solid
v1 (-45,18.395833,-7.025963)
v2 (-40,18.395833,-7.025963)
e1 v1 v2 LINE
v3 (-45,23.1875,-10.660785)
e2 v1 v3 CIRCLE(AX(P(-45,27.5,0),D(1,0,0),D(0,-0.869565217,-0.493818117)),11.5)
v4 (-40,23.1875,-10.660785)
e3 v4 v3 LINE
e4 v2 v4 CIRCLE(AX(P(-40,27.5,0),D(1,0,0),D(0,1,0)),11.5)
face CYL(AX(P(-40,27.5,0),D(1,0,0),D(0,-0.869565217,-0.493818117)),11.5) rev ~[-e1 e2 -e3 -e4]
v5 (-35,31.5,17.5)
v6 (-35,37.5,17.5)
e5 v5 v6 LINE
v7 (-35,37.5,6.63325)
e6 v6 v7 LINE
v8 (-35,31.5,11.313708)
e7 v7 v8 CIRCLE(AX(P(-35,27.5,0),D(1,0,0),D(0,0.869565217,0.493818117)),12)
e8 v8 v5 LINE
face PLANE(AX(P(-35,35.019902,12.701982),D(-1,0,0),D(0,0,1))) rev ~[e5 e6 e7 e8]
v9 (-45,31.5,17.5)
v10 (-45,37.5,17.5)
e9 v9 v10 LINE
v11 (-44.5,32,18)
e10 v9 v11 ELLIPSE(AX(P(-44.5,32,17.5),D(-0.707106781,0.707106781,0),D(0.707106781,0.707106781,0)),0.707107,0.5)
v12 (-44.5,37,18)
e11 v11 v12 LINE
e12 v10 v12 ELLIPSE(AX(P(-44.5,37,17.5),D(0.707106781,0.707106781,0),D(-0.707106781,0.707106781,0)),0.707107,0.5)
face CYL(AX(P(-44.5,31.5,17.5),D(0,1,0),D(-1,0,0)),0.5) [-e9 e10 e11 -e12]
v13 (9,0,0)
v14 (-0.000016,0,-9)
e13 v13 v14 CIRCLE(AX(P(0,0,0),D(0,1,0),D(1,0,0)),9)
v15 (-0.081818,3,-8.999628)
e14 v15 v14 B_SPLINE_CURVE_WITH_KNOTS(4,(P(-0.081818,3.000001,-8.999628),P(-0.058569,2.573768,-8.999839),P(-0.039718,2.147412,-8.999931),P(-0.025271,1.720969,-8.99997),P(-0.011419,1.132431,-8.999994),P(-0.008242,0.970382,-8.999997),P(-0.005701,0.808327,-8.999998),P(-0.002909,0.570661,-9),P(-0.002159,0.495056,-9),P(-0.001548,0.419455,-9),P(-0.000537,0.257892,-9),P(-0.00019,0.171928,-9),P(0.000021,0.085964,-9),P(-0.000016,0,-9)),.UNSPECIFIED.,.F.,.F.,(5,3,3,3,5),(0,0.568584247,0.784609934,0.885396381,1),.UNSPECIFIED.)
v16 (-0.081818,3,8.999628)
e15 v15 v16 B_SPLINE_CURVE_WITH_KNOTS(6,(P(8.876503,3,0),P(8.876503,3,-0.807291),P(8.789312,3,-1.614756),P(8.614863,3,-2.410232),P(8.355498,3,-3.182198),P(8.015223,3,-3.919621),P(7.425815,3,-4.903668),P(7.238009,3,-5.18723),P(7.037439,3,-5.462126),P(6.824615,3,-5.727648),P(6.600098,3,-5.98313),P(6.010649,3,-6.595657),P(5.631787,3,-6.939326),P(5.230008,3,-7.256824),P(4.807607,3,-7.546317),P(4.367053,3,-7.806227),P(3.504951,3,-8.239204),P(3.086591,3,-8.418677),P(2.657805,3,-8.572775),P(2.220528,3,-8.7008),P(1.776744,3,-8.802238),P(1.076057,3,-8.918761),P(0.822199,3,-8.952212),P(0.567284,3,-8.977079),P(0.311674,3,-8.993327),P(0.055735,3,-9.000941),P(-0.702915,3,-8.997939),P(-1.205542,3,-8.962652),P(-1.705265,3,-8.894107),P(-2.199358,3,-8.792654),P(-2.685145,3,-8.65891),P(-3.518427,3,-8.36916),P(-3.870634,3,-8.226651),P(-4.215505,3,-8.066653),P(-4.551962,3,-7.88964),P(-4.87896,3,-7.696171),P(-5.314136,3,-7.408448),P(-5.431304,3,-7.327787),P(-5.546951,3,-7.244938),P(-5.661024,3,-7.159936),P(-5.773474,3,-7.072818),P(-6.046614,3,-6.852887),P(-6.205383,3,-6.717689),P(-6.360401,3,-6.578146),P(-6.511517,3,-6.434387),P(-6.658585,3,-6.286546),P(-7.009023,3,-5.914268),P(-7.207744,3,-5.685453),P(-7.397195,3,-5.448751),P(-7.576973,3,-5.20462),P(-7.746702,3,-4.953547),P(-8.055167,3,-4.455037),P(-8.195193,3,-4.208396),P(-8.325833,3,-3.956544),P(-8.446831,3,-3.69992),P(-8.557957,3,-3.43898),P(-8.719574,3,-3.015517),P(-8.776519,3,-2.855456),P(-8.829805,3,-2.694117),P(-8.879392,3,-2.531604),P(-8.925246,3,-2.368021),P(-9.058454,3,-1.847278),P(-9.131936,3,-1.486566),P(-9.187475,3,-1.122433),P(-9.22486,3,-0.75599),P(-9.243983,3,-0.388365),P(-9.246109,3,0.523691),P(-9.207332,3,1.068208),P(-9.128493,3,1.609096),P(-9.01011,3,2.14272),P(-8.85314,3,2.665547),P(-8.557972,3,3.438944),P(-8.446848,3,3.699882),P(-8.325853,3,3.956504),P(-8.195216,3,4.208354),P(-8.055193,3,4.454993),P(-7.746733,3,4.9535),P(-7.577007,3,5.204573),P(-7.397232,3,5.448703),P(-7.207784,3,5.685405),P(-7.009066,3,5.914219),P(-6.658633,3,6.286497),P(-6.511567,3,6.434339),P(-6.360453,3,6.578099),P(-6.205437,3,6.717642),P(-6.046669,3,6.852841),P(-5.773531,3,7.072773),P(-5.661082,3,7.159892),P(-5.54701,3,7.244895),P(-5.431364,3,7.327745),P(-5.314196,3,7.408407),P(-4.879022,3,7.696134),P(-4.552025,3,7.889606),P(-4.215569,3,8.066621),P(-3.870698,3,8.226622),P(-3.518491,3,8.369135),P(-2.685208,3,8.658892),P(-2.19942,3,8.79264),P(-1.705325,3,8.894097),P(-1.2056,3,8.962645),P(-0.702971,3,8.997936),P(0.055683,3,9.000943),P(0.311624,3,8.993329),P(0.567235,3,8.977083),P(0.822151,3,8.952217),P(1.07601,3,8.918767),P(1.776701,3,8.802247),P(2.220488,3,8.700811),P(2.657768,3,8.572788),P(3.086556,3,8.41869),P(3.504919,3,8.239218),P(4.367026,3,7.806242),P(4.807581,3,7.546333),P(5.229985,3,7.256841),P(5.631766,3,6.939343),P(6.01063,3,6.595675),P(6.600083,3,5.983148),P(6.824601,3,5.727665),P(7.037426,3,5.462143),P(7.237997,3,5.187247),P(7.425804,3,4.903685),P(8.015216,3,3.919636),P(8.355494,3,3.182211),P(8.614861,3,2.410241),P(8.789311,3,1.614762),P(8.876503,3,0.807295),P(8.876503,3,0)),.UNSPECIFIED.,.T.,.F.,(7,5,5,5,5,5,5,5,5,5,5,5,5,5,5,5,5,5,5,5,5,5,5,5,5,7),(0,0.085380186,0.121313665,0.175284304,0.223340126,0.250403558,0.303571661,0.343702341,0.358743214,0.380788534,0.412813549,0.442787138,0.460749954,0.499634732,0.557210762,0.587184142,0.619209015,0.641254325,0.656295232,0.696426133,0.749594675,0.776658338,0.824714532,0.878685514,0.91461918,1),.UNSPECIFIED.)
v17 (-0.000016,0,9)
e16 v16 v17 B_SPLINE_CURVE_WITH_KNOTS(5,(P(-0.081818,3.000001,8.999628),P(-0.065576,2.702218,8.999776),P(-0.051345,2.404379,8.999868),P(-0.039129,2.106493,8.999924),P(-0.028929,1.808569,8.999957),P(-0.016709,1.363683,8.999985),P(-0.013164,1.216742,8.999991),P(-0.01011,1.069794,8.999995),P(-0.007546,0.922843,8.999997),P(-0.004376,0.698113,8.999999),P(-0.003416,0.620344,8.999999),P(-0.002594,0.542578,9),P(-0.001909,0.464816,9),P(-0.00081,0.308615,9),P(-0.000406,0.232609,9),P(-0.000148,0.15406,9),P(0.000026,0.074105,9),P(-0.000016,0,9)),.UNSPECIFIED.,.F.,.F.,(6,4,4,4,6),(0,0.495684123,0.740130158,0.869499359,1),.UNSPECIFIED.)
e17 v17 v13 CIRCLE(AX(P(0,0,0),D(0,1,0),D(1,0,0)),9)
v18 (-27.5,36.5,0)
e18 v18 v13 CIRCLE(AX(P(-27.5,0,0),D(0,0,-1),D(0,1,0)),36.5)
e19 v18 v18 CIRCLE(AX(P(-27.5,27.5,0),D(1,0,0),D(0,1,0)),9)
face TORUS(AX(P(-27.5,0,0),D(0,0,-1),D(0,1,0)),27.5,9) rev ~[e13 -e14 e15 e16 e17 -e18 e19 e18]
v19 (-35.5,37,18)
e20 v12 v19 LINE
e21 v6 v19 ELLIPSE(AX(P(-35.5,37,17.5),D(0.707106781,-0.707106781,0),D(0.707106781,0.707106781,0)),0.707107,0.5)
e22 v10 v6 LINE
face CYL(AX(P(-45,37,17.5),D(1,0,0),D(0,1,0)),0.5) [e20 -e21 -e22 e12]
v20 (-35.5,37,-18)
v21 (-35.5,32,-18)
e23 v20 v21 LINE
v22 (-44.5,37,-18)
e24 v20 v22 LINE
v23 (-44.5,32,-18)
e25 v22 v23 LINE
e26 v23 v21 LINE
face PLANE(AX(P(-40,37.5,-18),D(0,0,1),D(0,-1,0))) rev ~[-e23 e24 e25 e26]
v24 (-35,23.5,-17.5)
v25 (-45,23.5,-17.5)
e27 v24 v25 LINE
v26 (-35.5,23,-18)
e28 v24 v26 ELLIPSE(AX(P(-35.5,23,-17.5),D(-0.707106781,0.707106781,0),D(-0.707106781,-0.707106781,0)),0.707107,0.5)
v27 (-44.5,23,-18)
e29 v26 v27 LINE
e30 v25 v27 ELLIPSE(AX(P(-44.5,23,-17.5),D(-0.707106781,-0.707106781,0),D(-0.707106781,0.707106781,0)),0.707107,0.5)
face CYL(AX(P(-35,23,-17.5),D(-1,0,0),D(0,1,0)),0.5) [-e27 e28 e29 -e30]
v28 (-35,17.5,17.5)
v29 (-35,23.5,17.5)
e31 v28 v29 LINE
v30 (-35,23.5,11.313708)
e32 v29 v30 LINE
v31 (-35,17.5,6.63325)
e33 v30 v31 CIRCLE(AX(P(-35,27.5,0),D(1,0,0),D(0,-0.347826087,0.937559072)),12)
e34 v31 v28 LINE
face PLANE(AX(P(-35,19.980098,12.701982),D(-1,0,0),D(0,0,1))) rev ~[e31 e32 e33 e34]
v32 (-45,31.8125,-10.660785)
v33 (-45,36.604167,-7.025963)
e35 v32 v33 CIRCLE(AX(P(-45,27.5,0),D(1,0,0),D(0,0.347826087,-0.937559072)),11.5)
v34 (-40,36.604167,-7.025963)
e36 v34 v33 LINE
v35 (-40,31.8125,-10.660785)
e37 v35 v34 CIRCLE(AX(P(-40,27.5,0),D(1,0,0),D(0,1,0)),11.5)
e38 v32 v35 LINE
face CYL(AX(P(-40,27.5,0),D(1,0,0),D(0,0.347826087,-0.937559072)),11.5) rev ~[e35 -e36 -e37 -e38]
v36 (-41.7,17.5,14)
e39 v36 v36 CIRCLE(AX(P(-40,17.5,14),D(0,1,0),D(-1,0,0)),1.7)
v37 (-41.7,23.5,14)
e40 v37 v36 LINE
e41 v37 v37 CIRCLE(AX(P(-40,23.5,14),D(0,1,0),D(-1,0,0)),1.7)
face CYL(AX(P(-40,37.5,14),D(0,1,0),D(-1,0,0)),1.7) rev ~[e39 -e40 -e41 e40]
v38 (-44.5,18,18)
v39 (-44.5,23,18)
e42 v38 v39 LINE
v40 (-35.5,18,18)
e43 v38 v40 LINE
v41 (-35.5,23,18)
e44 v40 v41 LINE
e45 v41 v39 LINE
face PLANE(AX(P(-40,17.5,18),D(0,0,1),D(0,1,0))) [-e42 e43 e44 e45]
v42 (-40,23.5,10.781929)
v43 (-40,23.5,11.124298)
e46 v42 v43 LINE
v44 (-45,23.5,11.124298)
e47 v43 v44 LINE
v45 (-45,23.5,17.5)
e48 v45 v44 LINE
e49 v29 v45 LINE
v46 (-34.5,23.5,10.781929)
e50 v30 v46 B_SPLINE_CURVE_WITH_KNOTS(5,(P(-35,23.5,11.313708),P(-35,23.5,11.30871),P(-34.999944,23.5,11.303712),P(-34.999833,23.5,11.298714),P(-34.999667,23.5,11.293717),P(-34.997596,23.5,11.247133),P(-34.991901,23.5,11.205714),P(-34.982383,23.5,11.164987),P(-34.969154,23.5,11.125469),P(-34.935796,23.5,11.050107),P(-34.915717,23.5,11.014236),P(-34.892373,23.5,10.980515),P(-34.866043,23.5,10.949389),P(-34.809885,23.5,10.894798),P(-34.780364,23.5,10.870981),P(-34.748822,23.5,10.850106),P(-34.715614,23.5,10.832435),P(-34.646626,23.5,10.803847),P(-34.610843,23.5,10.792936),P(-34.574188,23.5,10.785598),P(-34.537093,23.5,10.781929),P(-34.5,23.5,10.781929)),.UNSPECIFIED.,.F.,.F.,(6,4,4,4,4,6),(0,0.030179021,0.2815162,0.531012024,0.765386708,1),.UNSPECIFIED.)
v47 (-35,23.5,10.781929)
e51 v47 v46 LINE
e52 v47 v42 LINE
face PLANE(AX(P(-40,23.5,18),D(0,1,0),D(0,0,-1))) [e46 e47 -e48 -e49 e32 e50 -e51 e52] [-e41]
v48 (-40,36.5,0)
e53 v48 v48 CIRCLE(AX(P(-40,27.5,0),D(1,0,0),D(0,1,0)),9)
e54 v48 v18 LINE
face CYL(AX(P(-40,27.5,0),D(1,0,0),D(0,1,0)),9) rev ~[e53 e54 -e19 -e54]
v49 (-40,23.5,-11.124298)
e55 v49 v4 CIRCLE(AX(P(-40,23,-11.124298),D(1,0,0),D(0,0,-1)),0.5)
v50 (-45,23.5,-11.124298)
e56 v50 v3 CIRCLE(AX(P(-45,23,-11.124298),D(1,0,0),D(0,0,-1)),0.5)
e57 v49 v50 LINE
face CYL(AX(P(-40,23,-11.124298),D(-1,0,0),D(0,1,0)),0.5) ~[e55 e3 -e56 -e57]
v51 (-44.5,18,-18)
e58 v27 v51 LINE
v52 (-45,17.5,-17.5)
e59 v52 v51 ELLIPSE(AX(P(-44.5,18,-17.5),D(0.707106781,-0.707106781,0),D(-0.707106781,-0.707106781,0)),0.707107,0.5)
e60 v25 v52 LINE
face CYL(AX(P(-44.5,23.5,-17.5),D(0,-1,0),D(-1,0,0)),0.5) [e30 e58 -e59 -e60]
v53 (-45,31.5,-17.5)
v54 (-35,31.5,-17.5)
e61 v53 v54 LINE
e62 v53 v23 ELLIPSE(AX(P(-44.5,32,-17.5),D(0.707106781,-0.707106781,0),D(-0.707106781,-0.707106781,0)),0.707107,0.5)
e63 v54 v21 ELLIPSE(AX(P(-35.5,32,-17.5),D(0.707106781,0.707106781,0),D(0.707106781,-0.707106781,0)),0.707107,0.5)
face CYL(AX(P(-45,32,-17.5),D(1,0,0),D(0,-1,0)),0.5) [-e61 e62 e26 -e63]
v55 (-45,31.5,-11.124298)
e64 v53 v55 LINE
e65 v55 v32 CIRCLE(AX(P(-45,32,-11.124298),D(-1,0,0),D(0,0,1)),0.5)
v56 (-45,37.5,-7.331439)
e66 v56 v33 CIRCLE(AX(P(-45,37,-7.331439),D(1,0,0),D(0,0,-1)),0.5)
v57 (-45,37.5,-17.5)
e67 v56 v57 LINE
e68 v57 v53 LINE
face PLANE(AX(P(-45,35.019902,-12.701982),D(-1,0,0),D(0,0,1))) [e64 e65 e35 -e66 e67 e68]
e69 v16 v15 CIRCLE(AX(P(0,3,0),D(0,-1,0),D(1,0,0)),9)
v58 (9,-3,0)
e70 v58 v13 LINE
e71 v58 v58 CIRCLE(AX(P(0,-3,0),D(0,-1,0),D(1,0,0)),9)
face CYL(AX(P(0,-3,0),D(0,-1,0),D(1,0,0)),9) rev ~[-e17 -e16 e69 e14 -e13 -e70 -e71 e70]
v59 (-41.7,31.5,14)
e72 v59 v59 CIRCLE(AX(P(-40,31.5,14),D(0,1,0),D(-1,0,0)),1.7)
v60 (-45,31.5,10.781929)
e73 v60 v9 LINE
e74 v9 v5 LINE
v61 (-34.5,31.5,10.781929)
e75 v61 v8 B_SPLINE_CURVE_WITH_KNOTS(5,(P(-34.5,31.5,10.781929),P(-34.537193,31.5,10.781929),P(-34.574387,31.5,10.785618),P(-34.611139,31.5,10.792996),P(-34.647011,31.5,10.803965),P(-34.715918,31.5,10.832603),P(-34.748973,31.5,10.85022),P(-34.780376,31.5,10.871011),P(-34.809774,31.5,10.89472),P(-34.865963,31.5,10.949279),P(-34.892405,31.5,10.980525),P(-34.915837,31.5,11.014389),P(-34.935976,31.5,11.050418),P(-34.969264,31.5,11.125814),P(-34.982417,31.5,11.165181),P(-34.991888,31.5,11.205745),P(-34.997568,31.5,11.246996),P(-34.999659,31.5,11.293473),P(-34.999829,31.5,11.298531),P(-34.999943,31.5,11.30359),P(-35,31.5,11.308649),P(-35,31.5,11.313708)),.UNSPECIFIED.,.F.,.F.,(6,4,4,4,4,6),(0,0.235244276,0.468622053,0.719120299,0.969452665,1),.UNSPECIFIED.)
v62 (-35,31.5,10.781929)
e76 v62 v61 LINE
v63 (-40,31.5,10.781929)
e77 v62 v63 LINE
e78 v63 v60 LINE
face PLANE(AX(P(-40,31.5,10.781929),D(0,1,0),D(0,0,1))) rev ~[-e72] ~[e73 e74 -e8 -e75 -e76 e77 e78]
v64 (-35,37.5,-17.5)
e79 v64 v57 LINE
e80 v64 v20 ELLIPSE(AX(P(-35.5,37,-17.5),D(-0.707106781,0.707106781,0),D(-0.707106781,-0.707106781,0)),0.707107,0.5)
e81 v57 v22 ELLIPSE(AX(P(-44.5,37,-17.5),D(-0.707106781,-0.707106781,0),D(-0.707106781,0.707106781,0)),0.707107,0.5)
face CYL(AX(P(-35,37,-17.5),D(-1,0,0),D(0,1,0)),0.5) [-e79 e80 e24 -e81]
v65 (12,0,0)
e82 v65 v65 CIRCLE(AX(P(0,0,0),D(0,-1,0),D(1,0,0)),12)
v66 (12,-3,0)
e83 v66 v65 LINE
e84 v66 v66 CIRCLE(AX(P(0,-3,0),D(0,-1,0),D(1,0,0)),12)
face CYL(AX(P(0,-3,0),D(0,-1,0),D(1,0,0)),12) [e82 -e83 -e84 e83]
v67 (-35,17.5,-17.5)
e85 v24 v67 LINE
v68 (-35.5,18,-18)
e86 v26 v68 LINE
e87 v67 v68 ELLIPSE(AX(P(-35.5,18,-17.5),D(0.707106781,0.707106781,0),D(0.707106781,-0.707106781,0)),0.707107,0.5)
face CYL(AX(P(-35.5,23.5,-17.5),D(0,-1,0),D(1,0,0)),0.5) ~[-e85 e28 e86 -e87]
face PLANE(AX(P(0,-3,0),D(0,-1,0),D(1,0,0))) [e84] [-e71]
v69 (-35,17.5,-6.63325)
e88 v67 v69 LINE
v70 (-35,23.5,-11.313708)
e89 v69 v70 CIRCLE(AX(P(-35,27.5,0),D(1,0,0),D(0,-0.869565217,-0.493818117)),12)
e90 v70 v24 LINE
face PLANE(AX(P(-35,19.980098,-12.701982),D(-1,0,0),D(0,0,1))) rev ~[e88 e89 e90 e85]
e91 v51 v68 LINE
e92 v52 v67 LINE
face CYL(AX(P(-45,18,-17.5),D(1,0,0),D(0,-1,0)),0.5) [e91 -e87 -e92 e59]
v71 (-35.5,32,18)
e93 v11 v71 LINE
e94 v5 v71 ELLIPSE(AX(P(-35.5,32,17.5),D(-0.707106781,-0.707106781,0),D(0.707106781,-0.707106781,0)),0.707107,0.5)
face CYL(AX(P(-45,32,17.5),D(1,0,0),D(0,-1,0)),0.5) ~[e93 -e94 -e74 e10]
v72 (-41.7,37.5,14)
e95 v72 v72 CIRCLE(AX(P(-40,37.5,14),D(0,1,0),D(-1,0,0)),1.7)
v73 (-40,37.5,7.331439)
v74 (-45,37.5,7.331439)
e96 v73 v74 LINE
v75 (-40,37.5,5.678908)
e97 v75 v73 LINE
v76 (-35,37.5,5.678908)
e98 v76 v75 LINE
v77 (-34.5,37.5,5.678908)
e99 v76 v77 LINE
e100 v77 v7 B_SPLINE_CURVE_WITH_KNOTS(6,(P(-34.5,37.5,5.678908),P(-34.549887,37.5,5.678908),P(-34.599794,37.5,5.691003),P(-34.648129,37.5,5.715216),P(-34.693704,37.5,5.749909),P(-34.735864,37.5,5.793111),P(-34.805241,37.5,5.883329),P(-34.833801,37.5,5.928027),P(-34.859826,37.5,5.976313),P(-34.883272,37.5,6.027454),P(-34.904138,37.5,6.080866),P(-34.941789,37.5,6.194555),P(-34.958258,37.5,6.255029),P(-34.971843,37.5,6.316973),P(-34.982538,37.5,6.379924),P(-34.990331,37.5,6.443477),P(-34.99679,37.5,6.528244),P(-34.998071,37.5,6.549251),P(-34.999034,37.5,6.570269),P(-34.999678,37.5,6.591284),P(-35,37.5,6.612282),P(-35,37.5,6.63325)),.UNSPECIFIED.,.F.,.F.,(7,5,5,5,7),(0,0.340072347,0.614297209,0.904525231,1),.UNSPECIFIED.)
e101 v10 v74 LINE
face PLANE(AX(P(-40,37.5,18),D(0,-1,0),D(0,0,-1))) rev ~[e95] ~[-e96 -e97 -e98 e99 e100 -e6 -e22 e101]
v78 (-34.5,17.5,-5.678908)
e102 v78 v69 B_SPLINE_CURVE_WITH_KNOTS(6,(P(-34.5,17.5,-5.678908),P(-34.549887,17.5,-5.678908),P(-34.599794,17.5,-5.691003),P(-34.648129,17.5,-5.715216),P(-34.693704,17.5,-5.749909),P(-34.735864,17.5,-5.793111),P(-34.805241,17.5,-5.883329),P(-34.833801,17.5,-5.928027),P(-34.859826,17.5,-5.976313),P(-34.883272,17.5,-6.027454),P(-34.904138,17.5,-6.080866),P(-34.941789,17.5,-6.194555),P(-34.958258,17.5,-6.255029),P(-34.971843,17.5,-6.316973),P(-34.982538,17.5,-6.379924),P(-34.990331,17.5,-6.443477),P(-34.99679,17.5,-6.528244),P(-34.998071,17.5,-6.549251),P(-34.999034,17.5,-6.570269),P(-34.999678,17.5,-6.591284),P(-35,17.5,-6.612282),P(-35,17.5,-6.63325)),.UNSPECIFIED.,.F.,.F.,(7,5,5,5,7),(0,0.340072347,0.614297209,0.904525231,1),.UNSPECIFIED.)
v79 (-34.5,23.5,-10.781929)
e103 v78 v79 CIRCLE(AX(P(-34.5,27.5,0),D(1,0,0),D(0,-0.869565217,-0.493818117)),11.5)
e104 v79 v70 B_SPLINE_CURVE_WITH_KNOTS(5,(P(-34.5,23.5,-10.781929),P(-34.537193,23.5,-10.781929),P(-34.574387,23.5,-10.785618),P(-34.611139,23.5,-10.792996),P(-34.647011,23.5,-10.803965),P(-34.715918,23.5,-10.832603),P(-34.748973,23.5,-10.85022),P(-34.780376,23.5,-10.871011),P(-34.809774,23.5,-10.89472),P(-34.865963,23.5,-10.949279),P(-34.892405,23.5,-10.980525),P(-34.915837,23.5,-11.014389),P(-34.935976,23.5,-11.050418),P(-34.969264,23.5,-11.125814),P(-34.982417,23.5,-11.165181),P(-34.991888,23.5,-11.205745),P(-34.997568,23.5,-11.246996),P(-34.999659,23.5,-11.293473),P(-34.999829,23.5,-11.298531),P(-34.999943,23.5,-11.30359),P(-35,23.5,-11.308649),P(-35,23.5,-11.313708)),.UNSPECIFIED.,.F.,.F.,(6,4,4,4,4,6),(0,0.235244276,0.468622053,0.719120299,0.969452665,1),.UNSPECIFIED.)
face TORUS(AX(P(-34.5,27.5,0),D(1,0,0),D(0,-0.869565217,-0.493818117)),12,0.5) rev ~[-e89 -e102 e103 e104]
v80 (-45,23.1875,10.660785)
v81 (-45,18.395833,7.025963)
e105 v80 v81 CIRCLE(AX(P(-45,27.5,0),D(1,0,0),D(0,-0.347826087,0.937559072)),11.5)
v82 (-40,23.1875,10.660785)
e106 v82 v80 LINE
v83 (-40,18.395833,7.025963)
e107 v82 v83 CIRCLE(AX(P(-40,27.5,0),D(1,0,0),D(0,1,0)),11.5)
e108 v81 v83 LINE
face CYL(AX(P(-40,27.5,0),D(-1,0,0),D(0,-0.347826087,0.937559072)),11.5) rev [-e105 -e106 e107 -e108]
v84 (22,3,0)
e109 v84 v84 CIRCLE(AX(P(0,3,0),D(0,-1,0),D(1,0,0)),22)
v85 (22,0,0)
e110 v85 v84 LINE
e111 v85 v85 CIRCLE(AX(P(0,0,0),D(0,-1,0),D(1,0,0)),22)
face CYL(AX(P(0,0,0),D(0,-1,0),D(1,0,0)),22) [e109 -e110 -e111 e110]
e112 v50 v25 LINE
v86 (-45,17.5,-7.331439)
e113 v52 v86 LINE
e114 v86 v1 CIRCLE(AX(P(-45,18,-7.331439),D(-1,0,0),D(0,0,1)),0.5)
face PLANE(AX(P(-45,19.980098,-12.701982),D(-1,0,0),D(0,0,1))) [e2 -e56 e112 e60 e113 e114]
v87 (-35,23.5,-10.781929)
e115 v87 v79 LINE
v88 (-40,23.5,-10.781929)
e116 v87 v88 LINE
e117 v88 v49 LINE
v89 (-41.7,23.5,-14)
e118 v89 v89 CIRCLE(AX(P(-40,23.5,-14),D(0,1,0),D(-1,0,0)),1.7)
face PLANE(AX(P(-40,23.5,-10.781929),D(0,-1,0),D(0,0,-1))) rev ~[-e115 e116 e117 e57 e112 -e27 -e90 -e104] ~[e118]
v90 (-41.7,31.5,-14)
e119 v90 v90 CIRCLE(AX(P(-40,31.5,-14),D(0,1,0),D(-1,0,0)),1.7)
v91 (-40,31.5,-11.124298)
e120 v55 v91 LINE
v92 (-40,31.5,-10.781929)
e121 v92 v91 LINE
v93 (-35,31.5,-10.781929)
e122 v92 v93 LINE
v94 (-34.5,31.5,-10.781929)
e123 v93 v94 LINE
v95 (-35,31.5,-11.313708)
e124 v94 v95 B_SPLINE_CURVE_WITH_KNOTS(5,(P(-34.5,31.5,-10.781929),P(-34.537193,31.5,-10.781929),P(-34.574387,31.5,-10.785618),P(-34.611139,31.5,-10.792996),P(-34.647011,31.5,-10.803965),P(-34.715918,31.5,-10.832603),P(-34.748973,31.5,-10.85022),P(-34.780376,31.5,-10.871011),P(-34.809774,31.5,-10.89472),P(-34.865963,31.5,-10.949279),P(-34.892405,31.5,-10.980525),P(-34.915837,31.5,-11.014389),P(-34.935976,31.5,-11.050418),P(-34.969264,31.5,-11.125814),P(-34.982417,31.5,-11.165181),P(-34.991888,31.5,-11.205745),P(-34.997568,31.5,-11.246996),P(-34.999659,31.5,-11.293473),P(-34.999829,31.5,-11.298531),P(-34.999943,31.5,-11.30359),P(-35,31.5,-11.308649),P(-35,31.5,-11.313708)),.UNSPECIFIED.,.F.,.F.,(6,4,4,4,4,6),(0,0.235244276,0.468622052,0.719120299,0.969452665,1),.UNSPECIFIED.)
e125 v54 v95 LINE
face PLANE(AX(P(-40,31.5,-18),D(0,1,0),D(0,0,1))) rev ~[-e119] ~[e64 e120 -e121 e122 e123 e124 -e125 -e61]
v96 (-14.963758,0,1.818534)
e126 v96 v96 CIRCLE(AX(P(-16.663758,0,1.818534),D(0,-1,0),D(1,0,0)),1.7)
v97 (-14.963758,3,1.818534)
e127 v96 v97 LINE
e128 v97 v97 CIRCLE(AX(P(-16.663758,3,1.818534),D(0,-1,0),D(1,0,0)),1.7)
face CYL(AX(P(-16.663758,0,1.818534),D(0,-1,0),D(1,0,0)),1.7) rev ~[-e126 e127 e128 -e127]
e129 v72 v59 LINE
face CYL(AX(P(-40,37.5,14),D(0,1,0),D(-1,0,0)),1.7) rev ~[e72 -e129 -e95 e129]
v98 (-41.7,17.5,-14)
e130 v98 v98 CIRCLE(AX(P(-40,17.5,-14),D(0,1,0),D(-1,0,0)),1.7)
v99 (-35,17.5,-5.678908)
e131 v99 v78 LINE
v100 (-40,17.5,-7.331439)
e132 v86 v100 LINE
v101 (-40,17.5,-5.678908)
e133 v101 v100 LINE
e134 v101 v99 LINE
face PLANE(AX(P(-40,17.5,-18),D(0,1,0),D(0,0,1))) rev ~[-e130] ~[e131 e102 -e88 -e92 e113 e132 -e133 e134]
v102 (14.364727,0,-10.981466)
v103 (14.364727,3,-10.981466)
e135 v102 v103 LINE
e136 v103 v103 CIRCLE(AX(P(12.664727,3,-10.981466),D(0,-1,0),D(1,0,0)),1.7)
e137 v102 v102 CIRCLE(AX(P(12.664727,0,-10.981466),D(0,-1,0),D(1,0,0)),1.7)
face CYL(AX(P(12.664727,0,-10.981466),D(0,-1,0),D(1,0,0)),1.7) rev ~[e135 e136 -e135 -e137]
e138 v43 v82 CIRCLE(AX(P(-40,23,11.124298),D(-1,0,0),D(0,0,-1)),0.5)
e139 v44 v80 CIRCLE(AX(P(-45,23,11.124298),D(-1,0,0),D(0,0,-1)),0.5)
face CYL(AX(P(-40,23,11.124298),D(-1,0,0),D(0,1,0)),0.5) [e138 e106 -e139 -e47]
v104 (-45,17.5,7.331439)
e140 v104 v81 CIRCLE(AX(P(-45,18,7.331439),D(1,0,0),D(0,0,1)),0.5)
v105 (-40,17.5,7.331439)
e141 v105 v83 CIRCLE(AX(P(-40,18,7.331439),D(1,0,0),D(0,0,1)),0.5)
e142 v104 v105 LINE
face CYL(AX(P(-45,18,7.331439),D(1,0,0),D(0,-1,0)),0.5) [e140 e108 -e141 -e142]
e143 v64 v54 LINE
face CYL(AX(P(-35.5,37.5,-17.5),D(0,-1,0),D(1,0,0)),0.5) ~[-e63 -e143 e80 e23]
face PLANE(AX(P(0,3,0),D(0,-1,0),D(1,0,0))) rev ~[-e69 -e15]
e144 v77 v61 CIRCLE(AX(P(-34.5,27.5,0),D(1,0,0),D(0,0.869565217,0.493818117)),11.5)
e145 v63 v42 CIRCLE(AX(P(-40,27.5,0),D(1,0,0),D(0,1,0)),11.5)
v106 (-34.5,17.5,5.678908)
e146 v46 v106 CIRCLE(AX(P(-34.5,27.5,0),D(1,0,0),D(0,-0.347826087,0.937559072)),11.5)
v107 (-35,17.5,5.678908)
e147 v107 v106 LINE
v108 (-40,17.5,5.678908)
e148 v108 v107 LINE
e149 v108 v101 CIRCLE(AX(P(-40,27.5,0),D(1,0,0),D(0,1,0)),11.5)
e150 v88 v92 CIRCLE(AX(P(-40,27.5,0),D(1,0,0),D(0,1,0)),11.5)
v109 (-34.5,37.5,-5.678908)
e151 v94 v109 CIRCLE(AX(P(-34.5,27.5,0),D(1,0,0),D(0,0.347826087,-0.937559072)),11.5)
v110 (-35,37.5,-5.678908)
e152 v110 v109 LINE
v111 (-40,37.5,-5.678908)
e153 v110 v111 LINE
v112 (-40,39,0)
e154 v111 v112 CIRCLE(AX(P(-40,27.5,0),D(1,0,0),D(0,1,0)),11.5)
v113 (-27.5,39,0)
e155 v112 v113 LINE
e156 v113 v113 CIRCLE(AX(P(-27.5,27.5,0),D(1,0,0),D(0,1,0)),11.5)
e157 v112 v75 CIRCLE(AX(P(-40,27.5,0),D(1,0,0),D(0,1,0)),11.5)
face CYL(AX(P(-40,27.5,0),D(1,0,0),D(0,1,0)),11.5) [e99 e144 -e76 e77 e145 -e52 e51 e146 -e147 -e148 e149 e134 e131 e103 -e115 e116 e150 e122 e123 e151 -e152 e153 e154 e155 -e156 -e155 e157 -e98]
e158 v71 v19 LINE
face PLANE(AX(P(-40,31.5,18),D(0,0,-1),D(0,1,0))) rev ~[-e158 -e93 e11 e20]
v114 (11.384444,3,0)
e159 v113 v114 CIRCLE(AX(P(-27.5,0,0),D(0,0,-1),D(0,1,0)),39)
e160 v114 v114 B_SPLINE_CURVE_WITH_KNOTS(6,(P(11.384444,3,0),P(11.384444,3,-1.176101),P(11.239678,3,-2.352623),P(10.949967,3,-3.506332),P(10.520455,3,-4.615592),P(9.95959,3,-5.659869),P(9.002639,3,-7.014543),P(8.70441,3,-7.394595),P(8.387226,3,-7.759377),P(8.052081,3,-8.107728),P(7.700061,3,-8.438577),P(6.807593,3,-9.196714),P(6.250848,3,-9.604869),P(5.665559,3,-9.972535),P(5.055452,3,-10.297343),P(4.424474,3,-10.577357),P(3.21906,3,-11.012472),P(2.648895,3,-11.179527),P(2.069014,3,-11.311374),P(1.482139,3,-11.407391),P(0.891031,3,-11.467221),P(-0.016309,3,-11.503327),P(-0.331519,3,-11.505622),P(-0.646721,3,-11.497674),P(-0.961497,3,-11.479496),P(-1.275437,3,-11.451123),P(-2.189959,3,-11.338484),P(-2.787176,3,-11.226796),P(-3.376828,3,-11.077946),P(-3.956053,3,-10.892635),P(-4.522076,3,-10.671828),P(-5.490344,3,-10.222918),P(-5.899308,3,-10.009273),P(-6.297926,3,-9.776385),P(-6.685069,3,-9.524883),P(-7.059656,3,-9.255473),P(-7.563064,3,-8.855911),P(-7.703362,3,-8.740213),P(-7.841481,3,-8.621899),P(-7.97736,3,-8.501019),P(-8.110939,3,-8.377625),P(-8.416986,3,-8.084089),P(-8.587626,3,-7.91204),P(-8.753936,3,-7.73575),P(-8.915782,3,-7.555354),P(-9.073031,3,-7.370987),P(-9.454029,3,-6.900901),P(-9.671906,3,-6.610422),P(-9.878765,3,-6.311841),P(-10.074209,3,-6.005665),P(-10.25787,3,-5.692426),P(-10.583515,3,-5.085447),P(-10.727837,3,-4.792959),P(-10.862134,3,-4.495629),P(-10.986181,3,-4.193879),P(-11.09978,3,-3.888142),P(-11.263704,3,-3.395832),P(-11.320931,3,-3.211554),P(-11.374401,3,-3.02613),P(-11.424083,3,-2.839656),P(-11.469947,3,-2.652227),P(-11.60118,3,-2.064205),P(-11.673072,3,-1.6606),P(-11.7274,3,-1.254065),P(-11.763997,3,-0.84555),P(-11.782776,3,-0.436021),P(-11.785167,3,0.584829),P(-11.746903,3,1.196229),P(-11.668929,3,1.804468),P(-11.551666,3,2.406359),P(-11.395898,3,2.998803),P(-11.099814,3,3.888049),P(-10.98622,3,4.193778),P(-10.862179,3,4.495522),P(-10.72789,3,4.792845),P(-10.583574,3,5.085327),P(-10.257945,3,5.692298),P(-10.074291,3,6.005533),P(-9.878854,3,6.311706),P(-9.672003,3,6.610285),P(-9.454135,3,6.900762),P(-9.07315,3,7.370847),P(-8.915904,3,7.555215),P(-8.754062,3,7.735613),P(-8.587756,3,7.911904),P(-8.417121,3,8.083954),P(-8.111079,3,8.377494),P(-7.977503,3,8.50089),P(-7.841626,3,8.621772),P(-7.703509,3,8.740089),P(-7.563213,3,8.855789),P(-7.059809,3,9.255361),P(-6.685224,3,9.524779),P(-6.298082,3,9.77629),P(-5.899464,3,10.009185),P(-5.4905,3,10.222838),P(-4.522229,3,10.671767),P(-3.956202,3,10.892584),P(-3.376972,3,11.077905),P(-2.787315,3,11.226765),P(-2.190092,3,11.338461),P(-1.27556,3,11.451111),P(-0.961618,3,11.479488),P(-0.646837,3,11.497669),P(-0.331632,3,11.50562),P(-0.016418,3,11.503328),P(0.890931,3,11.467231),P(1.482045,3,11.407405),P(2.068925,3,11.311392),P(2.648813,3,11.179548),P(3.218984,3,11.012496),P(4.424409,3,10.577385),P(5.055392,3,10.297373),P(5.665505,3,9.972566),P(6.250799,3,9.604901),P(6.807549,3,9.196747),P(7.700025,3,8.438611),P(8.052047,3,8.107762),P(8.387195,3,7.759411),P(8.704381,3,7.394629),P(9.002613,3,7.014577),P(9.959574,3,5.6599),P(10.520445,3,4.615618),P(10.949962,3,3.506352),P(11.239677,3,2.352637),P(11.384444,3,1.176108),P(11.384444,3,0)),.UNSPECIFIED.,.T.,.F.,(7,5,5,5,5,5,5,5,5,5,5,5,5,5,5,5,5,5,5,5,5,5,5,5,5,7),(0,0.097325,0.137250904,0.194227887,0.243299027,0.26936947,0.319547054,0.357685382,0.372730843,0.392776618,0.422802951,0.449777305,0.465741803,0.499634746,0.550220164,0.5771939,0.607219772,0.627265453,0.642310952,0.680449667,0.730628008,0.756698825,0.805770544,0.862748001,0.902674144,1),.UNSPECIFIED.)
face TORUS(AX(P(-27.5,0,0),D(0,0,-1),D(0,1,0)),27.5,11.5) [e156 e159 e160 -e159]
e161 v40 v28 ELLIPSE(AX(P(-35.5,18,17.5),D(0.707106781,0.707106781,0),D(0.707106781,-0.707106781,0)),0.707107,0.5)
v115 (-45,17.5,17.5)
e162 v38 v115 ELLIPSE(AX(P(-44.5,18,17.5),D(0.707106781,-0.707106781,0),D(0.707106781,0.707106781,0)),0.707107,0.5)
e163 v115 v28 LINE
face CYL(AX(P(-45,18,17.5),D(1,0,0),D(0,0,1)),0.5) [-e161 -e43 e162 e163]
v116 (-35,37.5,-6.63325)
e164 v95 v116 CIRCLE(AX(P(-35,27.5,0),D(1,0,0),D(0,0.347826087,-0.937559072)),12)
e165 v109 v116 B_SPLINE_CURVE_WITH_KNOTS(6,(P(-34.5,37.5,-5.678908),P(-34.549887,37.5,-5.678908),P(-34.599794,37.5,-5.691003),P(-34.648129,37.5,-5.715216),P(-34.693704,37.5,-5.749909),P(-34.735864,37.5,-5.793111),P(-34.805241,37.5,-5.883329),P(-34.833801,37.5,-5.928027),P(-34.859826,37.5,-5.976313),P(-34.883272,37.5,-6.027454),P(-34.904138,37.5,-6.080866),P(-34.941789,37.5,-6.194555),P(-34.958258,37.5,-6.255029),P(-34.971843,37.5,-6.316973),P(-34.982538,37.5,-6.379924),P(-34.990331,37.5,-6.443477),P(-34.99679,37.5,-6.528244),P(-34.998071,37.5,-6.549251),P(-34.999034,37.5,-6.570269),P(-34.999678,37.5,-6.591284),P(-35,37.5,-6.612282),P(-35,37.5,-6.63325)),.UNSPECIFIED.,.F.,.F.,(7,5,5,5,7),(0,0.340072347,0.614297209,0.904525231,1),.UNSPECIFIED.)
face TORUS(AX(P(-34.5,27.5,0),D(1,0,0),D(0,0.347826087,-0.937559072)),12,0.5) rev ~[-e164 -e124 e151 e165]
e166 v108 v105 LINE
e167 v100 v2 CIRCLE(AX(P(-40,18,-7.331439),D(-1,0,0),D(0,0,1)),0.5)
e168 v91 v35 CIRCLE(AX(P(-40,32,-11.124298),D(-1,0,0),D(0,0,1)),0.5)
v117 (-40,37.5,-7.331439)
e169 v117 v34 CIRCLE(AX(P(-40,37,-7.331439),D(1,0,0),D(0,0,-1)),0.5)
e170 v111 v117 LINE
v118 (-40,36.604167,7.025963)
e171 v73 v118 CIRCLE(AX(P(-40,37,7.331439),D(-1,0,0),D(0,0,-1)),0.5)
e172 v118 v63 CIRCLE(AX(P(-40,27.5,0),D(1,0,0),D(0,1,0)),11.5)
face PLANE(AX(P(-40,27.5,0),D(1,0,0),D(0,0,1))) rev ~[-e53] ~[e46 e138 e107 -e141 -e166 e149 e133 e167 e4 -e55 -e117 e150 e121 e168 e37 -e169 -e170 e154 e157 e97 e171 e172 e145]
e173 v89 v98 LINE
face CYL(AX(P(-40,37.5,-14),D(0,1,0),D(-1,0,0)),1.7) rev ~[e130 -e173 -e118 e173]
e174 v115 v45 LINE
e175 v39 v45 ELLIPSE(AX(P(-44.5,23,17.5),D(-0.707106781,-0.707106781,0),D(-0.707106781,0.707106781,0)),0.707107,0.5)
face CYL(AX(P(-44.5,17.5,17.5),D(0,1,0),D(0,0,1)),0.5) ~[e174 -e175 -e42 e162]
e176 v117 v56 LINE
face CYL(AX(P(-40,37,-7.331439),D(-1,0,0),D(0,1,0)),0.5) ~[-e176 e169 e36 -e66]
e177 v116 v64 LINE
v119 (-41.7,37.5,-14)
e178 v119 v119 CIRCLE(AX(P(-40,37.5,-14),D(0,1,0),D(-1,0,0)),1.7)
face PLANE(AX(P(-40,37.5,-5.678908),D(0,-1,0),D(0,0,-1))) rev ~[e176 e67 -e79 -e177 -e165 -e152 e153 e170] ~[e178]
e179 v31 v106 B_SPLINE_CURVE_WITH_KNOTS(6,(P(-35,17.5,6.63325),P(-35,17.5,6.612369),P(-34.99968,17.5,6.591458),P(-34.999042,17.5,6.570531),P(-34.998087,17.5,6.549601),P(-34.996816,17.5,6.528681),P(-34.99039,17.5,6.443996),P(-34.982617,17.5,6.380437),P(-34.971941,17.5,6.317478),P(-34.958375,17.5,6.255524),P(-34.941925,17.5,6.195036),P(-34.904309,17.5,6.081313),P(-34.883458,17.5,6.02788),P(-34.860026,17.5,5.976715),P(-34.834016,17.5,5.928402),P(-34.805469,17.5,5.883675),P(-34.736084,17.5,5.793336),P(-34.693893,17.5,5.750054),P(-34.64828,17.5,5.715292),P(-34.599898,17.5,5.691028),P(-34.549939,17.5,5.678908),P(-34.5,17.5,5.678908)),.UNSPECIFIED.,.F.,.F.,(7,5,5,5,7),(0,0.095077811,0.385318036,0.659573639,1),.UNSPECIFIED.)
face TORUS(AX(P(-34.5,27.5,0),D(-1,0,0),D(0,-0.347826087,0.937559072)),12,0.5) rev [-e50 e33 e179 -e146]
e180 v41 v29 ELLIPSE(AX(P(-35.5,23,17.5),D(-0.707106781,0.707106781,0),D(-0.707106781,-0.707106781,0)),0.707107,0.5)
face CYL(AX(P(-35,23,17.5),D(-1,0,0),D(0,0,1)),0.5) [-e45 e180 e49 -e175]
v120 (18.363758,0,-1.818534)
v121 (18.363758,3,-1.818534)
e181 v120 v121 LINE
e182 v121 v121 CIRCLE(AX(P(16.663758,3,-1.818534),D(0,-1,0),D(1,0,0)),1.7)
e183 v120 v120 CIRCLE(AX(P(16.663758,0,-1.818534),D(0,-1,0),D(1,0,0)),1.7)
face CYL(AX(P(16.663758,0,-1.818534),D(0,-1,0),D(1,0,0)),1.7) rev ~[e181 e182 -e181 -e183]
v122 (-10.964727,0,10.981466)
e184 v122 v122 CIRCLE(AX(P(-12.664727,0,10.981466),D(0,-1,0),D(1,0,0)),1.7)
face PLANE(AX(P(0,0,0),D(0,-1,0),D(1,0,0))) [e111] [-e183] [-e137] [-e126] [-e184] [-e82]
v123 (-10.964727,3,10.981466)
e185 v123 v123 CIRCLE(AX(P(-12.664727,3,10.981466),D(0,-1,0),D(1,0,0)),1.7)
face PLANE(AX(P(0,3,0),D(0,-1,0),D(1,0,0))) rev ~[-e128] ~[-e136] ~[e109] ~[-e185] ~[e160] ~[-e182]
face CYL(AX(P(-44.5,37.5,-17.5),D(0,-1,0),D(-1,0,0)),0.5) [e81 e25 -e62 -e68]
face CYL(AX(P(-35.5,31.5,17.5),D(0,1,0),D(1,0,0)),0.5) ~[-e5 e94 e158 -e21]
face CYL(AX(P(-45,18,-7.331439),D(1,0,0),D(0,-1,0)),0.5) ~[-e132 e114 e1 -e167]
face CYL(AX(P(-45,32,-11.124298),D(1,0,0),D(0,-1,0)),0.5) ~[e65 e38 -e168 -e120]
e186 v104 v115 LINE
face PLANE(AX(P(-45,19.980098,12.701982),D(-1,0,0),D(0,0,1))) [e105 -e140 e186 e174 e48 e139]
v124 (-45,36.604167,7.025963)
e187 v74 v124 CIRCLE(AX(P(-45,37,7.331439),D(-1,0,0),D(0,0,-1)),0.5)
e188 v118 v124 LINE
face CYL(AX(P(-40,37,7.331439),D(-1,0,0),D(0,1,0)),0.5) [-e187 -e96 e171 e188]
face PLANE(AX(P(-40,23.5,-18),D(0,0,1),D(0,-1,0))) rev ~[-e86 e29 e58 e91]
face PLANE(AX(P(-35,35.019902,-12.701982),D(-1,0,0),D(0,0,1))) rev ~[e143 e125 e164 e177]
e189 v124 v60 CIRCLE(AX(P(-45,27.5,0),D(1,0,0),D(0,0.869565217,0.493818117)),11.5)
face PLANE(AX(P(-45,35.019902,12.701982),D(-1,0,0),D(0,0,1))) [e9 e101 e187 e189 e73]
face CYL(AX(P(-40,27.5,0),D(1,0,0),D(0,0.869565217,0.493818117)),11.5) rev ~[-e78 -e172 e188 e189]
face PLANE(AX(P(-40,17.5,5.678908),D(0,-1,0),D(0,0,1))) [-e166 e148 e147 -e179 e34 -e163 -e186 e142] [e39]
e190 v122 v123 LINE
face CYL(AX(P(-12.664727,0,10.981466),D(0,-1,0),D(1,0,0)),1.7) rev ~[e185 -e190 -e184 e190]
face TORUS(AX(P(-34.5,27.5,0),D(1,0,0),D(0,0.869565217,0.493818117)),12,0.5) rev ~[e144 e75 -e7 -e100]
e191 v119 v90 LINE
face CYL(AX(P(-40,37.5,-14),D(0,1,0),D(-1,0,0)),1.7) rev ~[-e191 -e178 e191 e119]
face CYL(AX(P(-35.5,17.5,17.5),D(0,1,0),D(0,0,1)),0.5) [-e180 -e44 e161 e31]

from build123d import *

# Parameters (mm, degrees)
SWEEP_1_PROFILE_R   = 11.5
SWEEP_1_PROFILE_R_2 = 9
EXTRUDE_1_DEPTH     = 5
SKETCH_31_R         = 1.7
CUT_EXTRUDE_1_DEPTH = 26
FILLET_1_R          = 0.5
SKETCH_32_R         = 22
SKETCH_32_R_2       = 9
EXTRUDE_5_DEPTH     = 3
EXTRUDE_START       = 3
SKETCH_33_R         = 12
SKETCH_33_R_2       = 9
EXTRUDE_6_DEPTH     = 3
SKETCH_34_R         = 1.7
CUT_EXTRUDE_2_DEPTH = 10


with BuildPart() as part:
    # 扫描-薄件1: sweep along a path in 草图1
    with BuildLine(Plane.XY) as sweep_1_path:
        Line((-40, 27.5), (-27.5, 27.5))
        ThreePointArc((-27.5, 27.5), (-8.054563517, 19.445436483), (0, 0))
    # 扫描-薄件1 profile (on start of the path) → 扫描-薄件1 (sweep)
    with BuildSketch(Plane(origin=(-40, 27.5, 0), x_dir=(0, 1, 0), z_dir=(1, 0, 0))):
        Circle(SWEEP_1_PROFILE_R)
        Circle(SWEEP_1_PROFILE_R_2, mode=Mode.SUBTRACT)
    sweep(path=sweep_1_path.line)

    # 草图30 → 凸台-拉伸1 (add, symmetric)
    with BuildSketch(Plane.ZY.offset(40)):
        with BuildLine():
            ThreePointArc((-10.781929326, 31.5), (-8.76012524, 34.950517149), (-5.678908346, 37.5))
            Line((-5.678908346, 37.5), (-18, 37.5))
            Line((-18, 37.5), (-18, 31.5))
            Line((-18, 31.5), (-10.781929326, 31.5))
        make_face()
        with BuildLine():
            ThreePointArc((-5.678908346, 17.5), (-8.76012524, 20.049482851), (-10.781929326, 23.5))
            Line((-10.781929326, 23.5), (-18, 23.5))
            Line((-18, 23.5), (-18, 17.5))
            Line((-18, 17.5), (-5.678908346, 17.5))
        make_face()
        with BuildLine():
            Line((18, 37.5), (5.678908346, 37.5))
            ThreePointArc((5.678908346, 37.5), (8.76012524, 34.950517149), (10.781929326, 31.5))
            Line((10.781929326, 31.5), (18, 31.5))
            Line((18, 31.5), (18, 37.5))
        make_face()
        with BuildLine():
            Line((18, 17.5), (18, 23.5))
            Line((18, 23.5), (10.781929326, 23.5))
            ThreePointArc((10.781929326, 23.5), (8.76012524, 20.049482851), (5.678908346, 17.5))
            Line((5.678908346, 17.5), (18, 17.5))
        make_face()
    extrude(amount=EXTRUDE_1_DEPTH, both=True)

    # 草图31 → 切除-拉伸1 (cut)
    with BuildSketch(Plane(origin=(0, 37.5, 0), x_dir=(1, 0, 0), z_dir=(0, 1, 0))):
        with Locations(Location((-40, 14, 0), (0, 0, 180))):
            Circle(SKETCH_31_R)
        with Locations(Location((-40, -14, 0), (0, 0, 180))):
            Circle(SKETCH_31_R)
    extrude(amount=-CUT_EXTRUDE_1_DEPTH, mode=Mode.SUBTRACT)

    # 圆角1
    fillet_1_edges = [part.edges().sort_by_distance(p)[0] for p in [
        (-40, 37.5, -18),
        (-45, 34.5, -18),
        (-40, 31.5, -18),
        (-35, 34.5, -18),
        (-40, 31.5, 18),
        (-45, 34.5, 18),
        (-40, 37.5, 18),
        (-35, 34.5, 18),
        (-40, 17.5, 18),
        (-45, 20.5, 18),
        (-40, 23.5, 18),
        (-35, 20.5, 18),
        (-40, 23.5, -18),
        (-45, 20.5, -18),
        (-40, 17.5, -18),
        (-35, 20.5, -18),
        (-42.5, 23.5, 10.781929326),
        (-42.5, 23.5, -10.781929326),
        (-42.5, 31.5, -10.781929326),
        (-42.5, 17.5, 5.678908346),
        (-42.5, 17.5, -5.678908346),
        (-42.5, 37.5, 5.678908346),
        (-42.5, 37.5, -5.678908346),
        (-35, 20.049482851, 8.76012524),
        (-35, 34.950517149, 8.76012524),
        (-35, 20.049482851, -8.76012524),
        (-35, 34.950517149, -8.76012524),
    ]]
    fillet(fillet_1_edges, radius=FILLET_1_R)

    # 草图32 → 凸台-拉伸5 (add)
    with BuildSketch(Plane.XZ):
        Circle(SKETCH_32_R)
        Circle(SKETCH_32_R_2, mode=Mode.SUBTRACT)
    extrude(amount=-EXTRUDE_5_DEPTH)

    # 草图33 → 凸台-拉伸6 (add)
    with BuildSketch(Plane.XZ.offset(EXTRUDE_START)):
        Circle(SKETCH_33_R)
        Circle(SKETCH_33_R_2, mode=Mode.SUBTRACT)
    extrude(amount=-EXTRUDE_6_DEPTH)

    # 草图34 → 切除-拉伸2 (cut)
    with BuildSketch(Plane.XZ):
        with Locations((-12.664726672, 10.981465686)):
            Circle(SKETCH_34_R)
        with Locations((-16.663757776, 1.818534314)):
            Circle(SKETCH_34_R)
        with Locations((16.663757776, -1.818534314)):
            Circle(SKETCH_34_R)
        with Locations((12.664726672, -10.981465686)):
            Circle(SKETCH_34_R)
    extrude(amount=-CUT_EXTRUDE_2_DEPTH, mode=Mode.SUBTRACT)


solid = part.part
